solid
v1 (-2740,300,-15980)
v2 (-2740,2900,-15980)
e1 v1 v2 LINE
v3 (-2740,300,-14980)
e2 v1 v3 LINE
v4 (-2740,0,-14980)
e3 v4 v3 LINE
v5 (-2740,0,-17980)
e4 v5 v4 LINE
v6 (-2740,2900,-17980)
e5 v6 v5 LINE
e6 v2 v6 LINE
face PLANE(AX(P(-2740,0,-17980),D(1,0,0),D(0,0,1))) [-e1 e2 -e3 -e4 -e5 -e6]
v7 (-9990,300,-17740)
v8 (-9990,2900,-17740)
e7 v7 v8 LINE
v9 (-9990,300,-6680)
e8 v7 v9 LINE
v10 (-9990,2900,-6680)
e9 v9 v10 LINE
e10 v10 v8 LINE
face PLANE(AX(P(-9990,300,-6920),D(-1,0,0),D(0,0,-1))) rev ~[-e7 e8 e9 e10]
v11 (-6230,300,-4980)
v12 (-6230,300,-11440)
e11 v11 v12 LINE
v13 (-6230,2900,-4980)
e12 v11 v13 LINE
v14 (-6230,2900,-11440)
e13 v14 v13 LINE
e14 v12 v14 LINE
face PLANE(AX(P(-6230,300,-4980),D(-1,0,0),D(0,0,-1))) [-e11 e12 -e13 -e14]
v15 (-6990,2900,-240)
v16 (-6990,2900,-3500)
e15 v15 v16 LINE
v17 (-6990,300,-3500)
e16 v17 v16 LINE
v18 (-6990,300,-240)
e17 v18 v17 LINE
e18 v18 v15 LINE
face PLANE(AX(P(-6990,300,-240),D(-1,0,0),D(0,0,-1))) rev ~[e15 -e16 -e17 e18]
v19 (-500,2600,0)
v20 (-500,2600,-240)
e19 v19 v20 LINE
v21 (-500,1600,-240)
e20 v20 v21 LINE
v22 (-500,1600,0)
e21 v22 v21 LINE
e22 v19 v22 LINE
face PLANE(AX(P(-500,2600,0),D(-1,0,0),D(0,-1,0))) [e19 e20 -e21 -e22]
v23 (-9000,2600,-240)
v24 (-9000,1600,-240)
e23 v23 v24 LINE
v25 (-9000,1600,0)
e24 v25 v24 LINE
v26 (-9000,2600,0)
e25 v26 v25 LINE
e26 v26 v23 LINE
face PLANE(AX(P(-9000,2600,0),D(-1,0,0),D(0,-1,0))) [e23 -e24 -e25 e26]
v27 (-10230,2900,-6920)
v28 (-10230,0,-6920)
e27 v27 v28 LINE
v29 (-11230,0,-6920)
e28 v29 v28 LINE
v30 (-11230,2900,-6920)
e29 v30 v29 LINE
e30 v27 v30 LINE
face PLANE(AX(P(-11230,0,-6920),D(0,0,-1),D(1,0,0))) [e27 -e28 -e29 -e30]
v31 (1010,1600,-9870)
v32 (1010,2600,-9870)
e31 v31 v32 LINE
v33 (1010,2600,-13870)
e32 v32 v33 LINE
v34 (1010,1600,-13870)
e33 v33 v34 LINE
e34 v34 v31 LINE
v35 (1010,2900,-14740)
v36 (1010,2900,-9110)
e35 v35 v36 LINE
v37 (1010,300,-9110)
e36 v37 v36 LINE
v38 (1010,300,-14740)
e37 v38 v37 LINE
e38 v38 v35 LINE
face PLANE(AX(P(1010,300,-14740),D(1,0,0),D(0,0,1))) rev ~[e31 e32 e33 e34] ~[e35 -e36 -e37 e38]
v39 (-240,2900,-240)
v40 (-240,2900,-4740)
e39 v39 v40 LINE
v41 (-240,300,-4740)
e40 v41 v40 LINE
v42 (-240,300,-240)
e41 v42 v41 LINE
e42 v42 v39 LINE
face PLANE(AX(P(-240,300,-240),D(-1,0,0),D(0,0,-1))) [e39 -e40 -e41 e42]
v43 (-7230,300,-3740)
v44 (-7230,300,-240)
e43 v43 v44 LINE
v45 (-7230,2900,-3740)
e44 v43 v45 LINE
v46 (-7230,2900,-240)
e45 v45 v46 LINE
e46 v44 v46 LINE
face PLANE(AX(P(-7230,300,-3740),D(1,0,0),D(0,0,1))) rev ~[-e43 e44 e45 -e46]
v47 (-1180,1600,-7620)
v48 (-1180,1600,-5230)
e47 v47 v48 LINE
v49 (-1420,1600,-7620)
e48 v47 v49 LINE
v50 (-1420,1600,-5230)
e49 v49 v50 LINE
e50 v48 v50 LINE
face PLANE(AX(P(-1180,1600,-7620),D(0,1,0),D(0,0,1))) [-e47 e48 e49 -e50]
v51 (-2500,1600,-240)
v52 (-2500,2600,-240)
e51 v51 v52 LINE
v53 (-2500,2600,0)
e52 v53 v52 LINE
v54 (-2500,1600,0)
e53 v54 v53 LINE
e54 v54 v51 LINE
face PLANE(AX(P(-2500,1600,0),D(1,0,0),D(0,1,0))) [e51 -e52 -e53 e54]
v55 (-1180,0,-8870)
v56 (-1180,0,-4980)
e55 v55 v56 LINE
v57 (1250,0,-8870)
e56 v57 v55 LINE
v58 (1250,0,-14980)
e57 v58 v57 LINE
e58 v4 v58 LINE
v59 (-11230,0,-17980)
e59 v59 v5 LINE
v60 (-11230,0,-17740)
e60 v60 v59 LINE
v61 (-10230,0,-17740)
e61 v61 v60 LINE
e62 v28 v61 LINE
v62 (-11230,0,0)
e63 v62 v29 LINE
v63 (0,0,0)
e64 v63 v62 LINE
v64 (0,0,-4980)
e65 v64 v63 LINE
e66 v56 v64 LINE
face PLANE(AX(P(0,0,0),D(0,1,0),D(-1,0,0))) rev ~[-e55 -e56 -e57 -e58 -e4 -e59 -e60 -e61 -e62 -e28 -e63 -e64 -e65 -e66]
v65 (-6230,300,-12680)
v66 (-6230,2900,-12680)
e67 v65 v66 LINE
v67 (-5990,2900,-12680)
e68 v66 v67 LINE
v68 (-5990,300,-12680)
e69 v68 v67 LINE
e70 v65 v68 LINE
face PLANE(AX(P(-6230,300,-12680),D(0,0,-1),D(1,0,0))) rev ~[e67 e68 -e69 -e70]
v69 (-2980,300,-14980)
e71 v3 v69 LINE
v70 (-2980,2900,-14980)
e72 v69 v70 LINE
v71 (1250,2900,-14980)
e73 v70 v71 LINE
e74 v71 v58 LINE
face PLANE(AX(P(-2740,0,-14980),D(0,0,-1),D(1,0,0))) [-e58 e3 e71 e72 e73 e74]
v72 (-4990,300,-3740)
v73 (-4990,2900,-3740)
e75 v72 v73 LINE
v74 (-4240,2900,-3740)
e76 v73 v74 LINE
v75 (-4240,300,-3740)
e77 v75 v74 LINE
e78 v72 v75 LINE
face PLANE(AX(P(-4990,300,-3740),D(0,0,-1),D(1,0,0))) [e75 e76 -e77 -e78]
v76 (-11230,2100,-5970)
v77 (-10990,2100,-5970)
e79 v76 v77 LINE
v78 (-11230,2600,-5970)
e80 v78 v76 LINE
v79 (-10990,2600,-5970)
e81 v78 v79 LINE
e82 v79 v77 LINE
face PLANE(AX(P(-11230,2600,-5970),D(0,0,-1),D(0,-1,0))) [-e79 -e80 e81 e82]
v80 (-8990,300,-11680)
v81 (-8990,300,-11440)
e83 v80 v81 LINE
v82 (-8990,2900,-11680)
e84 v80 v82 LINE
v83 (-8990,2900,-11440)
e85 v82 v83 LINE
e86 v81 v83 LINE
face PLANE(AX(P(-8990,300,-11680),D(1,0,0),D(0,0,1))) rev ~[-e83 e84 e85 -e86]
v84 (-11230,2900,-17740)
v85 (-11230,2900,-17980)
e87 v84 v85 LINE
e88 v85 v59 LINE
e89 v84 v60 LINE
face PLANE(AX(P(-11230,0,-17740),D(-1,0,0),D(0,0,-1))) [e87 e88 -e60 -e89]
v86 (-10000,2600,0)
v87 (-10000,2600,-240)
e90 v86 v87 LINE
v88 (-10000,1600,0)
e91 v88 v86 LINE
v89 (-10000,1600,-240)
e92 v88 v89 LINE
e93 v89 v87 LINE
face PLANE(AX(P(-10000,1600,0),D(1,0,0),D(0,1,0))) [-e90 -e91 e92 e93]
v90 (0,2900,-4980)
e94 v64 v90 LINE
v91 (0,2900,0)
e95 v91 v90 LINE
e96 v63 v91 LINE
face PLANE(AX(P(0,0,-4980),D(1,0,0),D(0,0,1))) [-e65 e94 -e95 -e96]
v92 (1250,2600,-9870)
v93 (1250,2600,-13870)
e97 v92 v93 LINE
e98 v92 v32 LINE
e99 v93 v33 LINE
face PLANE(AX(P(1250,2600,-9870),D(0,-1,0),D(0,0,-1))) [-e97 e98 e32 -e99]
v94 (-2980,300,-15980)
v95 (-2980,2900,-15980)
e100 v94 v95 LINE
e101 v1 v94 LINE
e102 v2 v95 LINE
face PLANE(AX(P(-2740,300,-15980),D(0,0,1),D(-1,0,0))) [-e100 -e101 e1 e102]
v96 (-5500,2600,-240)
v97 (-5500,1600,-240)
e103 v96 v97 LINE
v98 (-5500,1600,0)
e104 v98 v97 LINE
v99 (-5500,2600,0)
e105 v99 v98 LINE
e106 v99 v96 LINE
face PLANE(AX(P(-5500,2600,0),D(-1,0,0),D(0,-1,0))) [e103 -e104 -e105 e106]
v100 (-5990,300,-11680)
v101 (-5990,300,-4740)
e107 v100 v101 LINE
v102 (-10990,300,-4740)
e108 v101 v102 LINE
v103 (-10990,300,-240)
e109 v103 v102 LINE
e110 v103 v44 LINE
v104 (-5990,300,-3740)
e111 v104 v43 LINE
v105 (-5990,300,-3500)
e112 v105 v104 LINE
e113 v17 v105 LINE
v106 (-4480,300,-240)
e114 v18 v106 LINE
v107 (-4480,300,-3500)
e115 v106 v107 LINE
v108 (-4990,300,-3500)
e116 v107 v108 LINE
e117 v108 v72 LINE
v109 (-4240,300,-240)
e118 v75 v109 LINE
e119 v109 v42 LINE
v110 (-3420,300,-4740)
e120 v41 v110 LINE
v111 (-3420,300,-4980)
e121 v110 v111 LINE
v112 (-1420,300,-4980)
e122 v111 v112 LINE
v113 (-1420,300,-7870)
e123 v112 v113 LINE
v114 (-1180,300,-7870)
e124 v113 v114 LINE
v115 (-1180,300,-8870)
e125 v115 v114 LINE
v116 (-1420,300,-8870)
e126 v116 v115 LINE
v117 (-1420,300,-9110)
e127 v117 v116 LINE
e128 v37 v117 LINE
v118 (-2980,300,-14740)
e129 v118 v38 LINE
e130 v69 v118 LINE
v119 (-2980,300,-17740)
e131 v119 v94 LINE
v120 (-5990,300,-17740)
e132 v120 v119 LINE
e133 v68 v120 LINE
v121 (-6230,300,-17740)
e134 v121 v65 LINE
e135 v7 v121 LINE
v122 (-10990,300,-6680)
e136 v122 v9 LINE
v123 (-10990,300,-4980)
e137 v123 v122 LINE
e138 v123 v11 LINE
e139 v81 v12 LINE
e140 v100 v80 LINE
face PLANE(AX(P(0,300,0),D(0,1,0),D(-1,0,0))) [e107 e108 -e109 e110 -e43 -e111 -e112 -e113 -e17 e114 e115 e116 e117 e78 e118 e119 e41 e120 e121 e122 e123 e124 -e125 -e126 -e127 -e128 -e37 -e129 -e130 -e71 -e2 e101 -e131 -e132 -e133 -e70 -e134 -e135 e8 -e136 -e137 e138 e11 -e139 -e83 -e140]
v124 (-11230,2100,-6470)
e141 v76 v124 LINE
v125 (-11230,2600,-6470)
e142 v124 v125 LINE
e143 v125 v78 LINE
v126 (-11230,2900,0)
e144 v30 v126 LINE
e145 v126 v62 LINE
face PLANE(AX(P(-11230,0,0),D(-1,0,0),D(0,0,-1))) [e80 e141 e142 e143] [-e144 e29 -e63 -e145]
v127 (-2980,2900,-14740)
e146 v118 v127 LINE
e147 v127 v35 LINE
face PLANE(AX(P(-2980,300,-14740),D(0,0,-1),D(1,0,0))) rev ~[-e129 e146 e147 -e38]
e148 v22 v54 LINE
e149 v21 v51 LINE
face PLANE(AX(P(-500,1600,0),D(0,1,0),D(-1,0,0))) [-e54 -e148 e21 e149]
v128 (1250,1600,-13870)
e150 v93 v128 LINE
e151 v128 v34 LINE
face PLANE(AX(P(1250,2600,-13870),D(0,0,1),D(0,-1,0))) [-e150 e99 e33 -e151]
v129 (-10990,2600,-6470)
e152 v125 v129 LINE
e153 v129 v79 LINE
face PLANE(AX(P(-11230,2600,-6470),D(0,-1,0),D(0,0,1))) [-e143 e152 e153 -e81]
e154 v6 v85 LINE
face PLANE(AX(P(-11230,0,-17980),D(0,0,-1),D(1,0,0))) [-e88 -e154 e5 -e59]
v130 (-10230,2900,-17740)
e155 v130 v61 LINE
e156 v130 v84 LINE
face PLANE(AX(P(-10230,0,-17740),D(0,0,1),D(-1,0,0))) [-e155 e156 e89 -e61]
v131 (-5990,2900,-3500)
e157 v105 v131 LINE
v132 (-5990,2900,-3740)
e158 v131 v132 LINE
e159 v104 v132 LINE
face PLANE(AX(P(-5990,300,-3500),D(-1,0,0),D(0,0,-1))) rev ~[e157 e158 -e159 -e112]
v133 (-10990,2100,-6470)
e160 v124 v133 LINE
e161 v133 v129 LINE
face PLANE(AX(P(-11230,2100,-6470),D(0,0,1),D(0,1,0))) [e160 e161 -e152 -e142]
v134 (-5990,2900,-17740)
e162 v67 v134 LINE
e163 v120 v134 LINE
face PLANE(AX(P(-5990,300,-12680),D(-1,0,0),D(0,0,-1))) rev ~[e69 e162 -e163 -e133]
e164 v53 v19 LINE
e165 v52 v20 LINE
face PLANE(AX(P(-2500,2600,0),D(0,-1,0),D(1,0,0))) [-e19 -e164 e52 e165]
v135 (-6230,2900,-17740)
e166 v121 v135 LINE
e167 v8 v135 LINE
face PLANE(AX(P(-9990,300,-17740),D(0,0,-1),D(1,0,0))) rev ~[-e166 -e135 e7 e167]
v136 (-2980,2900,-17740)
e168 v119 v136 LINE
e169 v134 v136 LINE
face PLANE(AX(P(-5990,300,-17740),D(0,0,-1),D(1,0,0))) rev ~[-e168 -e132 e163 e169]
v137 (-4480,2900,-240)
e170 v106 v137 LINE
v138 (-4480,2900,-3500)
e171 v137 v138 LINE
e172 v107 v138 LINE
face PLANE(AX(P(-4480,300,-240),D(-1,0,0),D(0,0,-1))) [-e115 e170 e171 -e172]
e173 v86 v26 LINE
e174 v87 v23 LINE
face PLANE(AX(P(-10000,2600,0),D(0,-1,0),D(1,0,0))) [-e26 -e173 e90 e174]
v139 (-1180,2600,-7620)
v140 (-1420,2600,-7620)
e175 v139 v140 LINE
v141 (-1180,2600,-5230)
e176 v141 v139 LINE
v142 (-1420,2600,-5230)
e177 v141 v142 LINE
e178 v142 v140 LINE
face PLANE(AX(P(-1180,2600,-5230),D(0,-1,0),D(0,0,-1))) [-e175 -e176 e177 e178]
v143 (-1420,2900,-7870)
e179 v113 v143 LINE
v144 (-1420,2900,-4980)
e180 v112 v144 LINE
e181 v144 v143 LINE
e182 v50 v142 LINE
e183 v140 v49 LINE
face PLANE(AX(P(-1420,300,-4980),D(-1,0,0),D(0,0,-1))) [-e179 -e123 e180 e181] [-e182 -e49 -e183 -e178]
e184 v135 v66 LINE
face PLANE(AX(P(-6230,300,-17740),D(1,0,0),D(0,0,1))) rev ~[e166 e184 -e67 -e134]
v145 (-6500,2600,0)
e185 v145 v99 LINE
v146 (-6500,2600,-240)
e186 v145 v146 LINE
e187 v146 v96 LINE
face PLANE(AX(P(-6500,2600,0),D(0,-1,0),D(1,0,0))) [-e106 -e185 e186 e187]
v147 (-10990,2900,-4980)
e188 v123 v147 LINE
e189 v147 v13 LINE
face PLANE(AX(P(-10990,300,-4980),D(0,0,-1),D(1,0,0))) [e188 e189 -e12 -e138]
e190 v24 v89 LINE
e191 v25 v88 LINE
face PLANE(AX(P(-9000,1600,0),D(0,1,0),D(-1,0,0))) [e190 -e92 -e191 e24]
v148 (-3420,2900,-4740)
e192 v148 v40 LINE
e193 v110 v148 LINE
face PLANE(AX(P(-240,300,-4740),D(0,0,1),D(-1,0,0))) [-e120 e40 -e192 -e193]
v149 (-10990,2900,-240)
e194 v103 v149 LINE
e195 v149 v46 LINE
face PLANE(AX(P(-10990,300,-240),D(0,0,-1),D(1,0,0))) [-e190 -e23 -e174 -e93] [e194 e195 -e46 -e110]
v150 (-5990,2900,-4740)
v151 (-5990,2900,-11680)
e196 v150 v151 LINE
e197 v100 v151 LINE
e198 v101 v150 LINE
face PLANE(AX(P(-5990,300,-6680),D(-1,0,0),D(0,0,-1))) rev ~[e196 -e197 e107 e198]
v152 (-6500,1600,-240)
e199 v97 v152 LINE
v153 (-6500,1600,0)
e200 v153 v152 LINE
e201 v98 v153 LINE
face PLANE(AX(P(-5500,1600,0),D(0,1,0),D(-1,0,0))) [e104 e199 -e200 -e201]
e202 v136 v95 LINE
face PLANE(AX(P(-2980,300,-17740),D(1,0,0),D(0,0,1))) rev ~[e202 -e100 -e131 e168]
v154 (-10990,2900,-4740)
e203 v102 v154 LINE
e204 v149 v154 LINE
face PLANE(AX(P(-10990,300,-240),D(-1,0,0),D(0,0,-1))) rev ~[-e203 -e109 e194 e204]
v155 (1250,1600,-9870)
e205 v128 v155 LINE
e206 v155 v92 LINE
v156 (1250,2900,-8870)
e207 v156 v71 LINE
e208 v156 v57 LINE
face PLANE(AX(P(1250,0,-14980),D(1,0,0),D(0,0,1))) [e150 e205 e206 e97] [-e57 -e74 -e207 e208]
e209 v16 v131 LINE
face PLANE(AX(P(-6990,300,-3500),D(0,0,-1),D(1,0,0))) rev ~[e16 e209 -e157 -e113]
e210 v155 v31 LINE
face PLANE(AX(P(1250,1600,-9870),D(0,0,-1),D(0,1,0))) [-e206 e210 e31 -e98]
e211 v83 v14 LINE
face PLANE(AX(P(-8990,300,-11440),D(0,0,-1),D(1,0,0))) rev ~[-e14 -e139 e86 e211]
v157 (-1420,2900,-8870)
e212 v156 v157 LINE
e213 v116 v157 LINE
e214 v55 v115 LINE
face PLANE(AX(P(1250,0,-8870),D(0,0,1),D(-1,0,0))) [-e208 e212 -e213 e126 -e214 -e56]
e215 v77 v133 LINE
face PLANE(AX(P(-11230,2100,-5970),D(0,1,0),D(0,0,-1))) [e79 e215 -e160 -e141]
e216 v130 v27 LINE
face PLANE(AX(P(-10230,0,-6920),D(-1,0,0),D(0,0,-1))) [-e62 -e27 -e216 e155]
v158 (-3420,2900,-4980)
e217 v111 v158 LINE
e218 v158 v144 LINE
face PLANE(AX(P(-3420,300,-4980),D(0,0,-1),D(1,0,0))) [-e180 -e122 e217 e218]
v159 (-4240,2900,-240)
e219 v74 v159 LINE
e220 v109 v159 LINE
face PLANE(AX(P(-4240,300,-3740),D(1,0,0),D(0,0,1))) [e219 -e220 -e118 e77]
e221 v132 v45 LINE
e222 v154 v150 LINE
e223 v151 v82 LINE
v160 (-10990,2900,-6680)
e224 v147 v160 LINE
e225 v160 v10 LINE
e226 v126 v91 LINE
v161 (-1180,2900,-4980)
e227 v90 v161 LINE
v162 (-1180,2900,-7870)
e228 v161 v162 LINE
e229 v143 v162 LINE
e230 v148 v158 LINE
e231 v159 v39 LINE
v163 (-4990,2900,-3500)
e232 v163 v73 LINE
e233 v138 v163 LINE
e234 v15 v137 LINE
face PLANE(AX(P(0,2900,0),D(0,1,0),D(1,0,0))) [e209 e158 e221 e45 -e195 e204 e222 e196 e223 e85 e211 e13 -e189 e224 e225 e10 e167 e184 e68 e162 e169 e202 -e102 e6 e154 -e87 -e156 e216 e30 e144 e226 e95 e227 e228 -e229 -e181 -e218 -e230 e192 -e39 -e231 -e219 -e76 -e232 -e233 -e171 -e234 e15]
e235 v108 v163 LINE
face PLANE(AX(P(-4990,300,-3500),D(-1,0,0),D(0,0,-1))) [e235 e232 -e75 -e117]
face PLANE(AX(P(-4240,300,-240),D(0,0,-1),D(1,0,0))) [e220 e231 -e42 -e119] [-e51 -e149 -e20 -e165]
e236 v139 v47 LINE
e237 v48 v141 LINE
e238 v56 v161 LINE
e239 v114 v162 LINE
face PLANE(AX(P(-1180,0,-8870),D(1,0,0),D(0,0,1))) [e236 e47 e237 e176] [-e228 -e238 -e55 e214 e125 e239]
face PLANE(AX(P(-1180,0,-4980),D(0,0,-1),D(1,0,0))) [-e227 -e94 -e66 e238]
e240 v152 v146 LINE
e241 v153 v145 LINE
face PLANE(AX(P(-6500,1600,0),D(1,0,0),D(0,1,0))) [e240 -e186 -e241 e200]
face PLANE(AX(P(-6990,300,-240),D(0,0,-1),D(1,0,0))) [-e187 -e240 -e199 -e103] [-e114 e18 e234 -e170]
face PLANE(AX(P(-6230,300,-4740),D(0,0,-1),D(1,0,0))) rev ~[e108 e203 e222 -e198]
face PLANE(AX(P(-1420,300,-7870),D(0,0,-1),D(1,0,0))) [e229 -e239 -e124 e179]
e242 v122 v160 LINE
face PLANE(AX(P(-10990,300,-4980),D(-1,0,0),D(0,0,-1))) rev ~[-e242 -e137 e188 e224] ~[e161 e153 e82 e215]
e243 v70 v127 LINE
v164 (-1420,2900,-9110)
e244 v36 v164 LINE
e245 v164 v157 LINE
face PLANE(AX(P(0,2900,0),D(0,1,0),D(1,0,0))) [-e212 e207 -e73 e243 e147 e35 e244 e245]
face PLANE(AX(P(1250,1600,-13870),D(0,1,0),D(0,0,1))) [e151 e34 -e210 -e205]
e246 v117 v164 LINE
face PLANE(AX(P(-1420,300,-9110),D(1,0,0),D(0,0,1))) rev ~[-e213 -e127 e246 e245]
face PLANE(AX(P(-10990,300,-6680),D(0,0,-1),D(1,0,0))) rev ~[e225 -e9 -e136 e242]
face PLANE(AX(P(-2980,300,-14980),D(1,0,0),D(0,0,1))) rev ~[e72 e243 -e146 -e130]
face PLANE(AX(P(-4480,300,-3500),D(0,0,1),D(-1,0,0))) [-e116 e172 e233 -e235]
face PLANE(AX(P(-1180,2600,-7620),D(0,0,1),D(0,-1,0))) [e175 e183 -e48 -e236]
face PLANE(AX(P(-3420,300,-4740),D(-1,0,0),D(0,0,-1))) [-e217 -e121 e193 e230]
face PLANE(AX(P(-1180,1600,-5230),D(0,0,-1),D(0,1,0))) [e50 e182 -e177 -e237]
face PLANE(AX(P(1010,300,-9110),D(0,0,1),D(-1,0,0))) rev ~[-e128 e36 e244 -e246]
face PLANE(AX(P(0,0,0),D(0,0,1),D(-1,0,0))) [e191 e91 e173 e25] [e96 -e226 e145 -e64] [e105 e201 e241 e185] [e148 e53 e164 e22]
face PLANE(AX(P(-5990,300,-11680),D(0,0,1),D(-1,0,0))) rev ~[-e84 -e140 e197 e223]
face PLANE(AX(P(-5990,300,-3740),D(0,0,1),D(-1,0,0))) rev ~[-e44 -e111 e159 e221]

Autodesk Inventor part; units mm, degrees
ref_plane "YZ Plane" through (0, 0, 0) normal (1, 0, 0) x (0, 1, 0)
ref_plane "XZ Plane" through (0, 0, 0) normal (0, 1, 0) x (-1, 0, 0)
ref_plane "XY Plane" through (0, 0, 0) normal (0, 0, 1) x (1, 0, 0)
sketch "Skizze2" plane through (0, 0, 0) normal (0, 1, 0) x (-1, 0, 0)
  line L0 (0, 0) -> (11230, 0)
  line L1 (11230, 0) -> (11230, -6920)
  line L2 (11230, -6920) -> (10230, -6920)
  line L3 (10230, -6920) -> (10230, -17740)
  line L4 (10230, -17740) -> (11230, -17740)
  line L5 (11230, -17740) -> (11230, -17980)
  line L6 (11230, -17980) -> (2740, -17980)
  line L7 (2740, -17980) -> (2740, -14980)
  line L8 (2740, -14980) -> (-1250, -14980)
  line L9 (-1250, -14980) -> (-1250, -8870)
  line L10 (-1250, -8870) -> (1180, -8870)
  line L11 (1180, -8870) -> (1180, -4980)
  line L12 (1180, -4980) -> (0, -4980)
  line L13 (0, -4980) -> (0, 0)
  dimension "d6" = 11230
  dimension "d7" = 6920
  dimension "d8" = 1000
  dimension "d9" = 10820
  dimension "d10" = 240
  dimension "d11" = 8490
  dimension "d12" = 3000
  dimension "d13" = 3990
  dimension "d14" = 6110
  dimension "d15" = 2430
  dimension "d16" = 3890
  dimension "d17" = 1180
extrude "Fundament" add sketch "Skizze2" along normal blind 300
sketch "Skizze3" plane through (0, 300, 0) normal (0, 1, 0) x (1, 0, 0)
  line L0 (-11230, 0) -> (0, 0) projected
  line L1 (0, 0) -> (0, 4980) projected
  line L2 (0, 4980) -> (-1180, 4980) projected
  line L3 (-1180, 4980) -> (-1180, 8870) projected
  line L4 (-1180, 8870) -> (1250, 8870) projected
  line L5 (1250, 8870) -> (1250, 14980) projected
  line L6 (1250, 14980) -> (-2740, 14980) projected
  line L7 (-2740, 14980) -> (-2740, 17980) projected
  line L8 (-2740, 17980) -> (-11230, 17980) projected
  line L9 (-10230, 17740) -> (-10230, 6920) projected
  line L10 (-10230, 6920) -> (-11230, 6920) projected
  line L11 (-11230, 6920) -> (-11230, 0) projected
  line L12 (-11230, 0) -> (-11230, 6920) projected
  line L13 (-11230, 0) -> (-11230, 6920)
  line L14 (-11230, 6920) -> (-10230, 6920)
  line L15 (-10230, 17740) -> (-11230, 17740) projected
  line L16 (-10230, 17740) -> (-11230, 17740)
  line L17 (-11230, 17980) -> (-2740, 17980) projected
  line L18 (-11230, 17740) -> (-11230, 17980)
  line L19 (-11230, 17980) -> (-2740, 17980)
  line L20 (-2740, 17980) -> (-2740, 15980)
  line L21 (1250, 14980) -> (1250, 8870)
  line L22 (-1180, 7870) -> (-1180, 4980)
  line L23 (0, 4980) -> (0, 0)
  line L24 (0, 0) -> (-11230, 0)
  line L25 (-10990, 240) -> (-240, 240)
  line L26 (-240, 240) -> (-240, 4740)
  line L27 (-240, 4740) -> (-1420, 4740)
  line L28 (-1420, 4740) -> (-1420, 7870)
  line L29 (-1420, 7870) -> (-1180, 7870)
  line L30 (-10990, 240) -> (-10990, 6680)
  line L31 (-5990, 6680) -> (-5990, 11680)
  line L32 (-5990, 11680) -> (-8990, 11680)
  line L33 (-8990, 11680) -> (-8990, 11440)
  line L34 (-8990, 11440) -> (-6230, 11440)
  line L35 (-6230, 11440) -> (-6230, 6920)
  line L36 (-9990, 6920) -> (-9990, 17740)
  line L37 (-9990, 17740) -> (-6230, 17740)
  line L38 (-6230, 17740) -> (-6230, 12680)
  line L39 (-6230, 12680) -> (-5990, 12680)
  line L40 (-5990, 12680) -> (-5990, 17740)
  line L41 (-5990, 17740) -> (-2980, 17740)
  line L42 (-2980, 14740) -> (1010, 14740)
  line L43 (1010, 14740) -> (1010, 9110)
  line L44 (1010, 9110) -> (-1420, 9110)
  line L45 (-1420, 9110) -> (-1420, 8870)
  line L46 (-1420, 8870) -> (-952.7911, 8870)
  line L47 (-1420, 4740) -> (-3420, 4740)
  line L48 (-3420, 4740) -> (-3420, 4980)
  line L49 (-3420, 4980) -> (-1420, 4980)
  line L50 (-10990, 4740) -> (-6230, 4740)
  line L51 (-6230, 4740) -> (-5990, 4740)
  line L52 (-5990, 4740) -> (-5990, 6680)
  line L53 (-10990, 4980) -> (-6230, 4980)
  line L54 (-6230, 4980) -> (-6230, 6920)
  line L55 (-6990, 240) -> (-6990, 3500)
  line L56 (-6990, 3500) -> (-5990, 3500)
  line L57 (-5990, 3500) -> (-5990, 3740)
  line L58 (-5990, 3740) -> (-7230, 3740)
  line L59 (-7230, 3740) -> (-7230, 240)
  line L60 (-4480, 240) -> (-4480, 3500)
  line L61 (-4480, 3500) -> (-4990, 3500)
  line L62 (-4990, 3500) -> (-4990, 3740)
  line L63 (-4990, 3740) -> (-4240, 3740)
  line L64 (-4240, 3740) -> (-4240, 240)
  line L65 (-10990, 6680) -> (-9990, 6680)
  line L66 (-9990, 6680) -> (-9990, 6920)
  line L67 (-2740, 14980) -> (-2980, 14980)
  line L68 (-2740, 15980) -> (-2980, 15980)
  line L69 (-2980, 17740) -> (-2980, 15980)
  line L70 (-2980, 14980) -> (-2980, 14740)
  dimension "d20" = 5000
  dimension "d21" = 240
  dimension "d23" = 240
  dimension "d24" = 240
  dimension "d25" = 240
  dimension "d26" = 240
  dimension "d27" = 1000
  dimension "d28" = 240
  dimension "d29" = 240
  dimension "d30" = 240
  dimension "d31" = 240
  dimension "d33" = 240
  dimension "d34" = 240
  dimension "d35" = 240
  dimension "d36" = 240
  dimension "d37" = 240
  dimension "d38" = 240
  dimension "d39" = 1000
  dimension "d40" = 1000
  dimension "d41" = 5000
  dimension "d54" = 1000
  dimension "d55" = 2000
  dimension "d56" = 240
  dimension "d57" = 240
  dimension "d58" = 240
  dimension "d59" = 240
  dimension "d60" = 3760
  dimension "d61" = 2510
  dimension "d62" = 1000
  dimension "d63" = 1000
  dimension "d64" = 240
  dimension "d65" = 240
  dimension "d66" = 90
  dimension "d67" = 2300
  dimension "d68" = 10000
  dimension "d69" = 2202.7911
  dimension "d70" = 7480
  dimension "d107" = 240
  dimension "d108" = 1000
  dimension "d109" = 240
extrude "Wände" add sketch "Skizze3" along normal blind 2600 contours L11 L10 L9 L15 L18 L8 L7 L68 L69 L41 L40 L39 L38 L37 L36 L66 L65 L30 L25 L26 L27 L28 L29 L3 L2 L1 L0 | L46 L45 L44 L43 L42 L70 L67 L6 L5 L4 | L28 L47 L48 L49 | L25 L60 L61 L62 L63 L64 | L25 L59 L58 L57 L56 L55 | L30 L53 L54 L35 L34 L33 L32 L31 L52 L51 L50
sketch "Skizze6" plane through (-11230, 0, 0) normal (0, 0, 1) x (1, 0, 0)
  line L0 (11230, 0) -> (11230, 2900) projected
  line L1 (0, 2900) -> (11230, 2900) projected
  line L2 (1230, 2600) -> (2230, 2600)
  line L3 (2230, 2600) -> (2230, 1600)
  line L4 (2230, 1600) -> (1230, 1600)
  line L5 (1230, 1600) -> (1230, 2600)
  line L6 (4730, 2600) -> (5730, 2600)
  line L7 (5730, 2600) -> (5730, 1600)
  line L8 (5730, 1600) -> (4730, 1600)
  line L9 (4730, 1600) -> (4730, 2600)
  line L10 (8730, 2600) -> (10730, 2600)
  line L11 (10730, 2600) -> (10730, 1600)
  line L12 (10730, 1600) -> (8730, 1600)
  line L13 (8730, 1600) -> (8730, 2600)
  dimension "d75" = 1000
  dimension "d76" = 1000
  dimension "d77" = 2500
  dimension "d78" = 1000
  dimension "d79" = 2000
  dimension "d80" = 3000
  dimension "d81" = 300
  dimension "d84" = 500
  dimension "d99" = 300
  dimension "d100" = 1000
extrude "Fenster_West" cut sketch "Skizze6" against normal blind 240
sketch "Skizze8" plane through (1250, 0, -8870) normal (1, 0, 0) x (0, 0, -1)
  line L0 (0, 2900) -> (6110, 2900) projected
  line L1 (0, 0) -> (0, 2900) projected
  line L2 (1000, 2600) -> (5000, 2600)
  line L3 (5000, 2600) -> (5000, 1600)
  line L4 (5000, 1600) -> (1000, 1600)
  line L5 (1000, 1600) -> (1000, 2600)
  point P0 (-8870, 0)
  point P1 (0, 300)
  dimension "d87" = 300
  dimension "d88" = 4000
  dimension "d89" = 1000
  dimension "d90" = 1000
extrude "Fenster_Süden_1" cut sketch "Skizze8" against normal blind 240
sketch "Skizze10" plane through (-1180, 0, -4980) normal (1, 0, 0) x (0, 0, -1)
  line L0 (2890, 300) -> (2890, 2900) projected
  line L1 (0, 2900) -> (2890, 2900) projected
  line L2 (0, 0) -> (0, 2900) projected
  line L3 (250, 2600) -> (2640, 2600)
  line L4 (2640, 2600) -> (2640, 1600)
  line L5 (2640, 1600) -> (250, 1600)
  line L6 (250, 1600) -> (250, 2600)
  point P0 (-4980, 0)
  dimension "d101" = 300
  dimension "d102" = 250
  dimension "d103" = 250
  dimension "d104" = 1000
extrude "Fenster_Süden_2" cut sketch "Skizze10" against normal blind 240
sketch "Skizze9" plane through (-11230, 0, -6920) normal (-1, 0, 0) x (0, 0, 1)
  line L0 (0, 2900) -> (6920, 2900) projected
  line L1 (0, 0) -> (0, 2900) projected
  line L2 (450, 2600) -> (950, 2600)
  line L3 (950, 2600) -> (950, 2100)
  line L4 (950, 2100) -> (450, 2100)
  line L5 (450, 2100) -> (450, 2600)
  dimension "d93" = 300
  dimension "d94" = 450
  dimension "d95" = 500
  dimension "d96" = 500
extrude "Fenster_Nord" cut sketch "Skizze9" against normal blind 240
properties part number "Haus"
